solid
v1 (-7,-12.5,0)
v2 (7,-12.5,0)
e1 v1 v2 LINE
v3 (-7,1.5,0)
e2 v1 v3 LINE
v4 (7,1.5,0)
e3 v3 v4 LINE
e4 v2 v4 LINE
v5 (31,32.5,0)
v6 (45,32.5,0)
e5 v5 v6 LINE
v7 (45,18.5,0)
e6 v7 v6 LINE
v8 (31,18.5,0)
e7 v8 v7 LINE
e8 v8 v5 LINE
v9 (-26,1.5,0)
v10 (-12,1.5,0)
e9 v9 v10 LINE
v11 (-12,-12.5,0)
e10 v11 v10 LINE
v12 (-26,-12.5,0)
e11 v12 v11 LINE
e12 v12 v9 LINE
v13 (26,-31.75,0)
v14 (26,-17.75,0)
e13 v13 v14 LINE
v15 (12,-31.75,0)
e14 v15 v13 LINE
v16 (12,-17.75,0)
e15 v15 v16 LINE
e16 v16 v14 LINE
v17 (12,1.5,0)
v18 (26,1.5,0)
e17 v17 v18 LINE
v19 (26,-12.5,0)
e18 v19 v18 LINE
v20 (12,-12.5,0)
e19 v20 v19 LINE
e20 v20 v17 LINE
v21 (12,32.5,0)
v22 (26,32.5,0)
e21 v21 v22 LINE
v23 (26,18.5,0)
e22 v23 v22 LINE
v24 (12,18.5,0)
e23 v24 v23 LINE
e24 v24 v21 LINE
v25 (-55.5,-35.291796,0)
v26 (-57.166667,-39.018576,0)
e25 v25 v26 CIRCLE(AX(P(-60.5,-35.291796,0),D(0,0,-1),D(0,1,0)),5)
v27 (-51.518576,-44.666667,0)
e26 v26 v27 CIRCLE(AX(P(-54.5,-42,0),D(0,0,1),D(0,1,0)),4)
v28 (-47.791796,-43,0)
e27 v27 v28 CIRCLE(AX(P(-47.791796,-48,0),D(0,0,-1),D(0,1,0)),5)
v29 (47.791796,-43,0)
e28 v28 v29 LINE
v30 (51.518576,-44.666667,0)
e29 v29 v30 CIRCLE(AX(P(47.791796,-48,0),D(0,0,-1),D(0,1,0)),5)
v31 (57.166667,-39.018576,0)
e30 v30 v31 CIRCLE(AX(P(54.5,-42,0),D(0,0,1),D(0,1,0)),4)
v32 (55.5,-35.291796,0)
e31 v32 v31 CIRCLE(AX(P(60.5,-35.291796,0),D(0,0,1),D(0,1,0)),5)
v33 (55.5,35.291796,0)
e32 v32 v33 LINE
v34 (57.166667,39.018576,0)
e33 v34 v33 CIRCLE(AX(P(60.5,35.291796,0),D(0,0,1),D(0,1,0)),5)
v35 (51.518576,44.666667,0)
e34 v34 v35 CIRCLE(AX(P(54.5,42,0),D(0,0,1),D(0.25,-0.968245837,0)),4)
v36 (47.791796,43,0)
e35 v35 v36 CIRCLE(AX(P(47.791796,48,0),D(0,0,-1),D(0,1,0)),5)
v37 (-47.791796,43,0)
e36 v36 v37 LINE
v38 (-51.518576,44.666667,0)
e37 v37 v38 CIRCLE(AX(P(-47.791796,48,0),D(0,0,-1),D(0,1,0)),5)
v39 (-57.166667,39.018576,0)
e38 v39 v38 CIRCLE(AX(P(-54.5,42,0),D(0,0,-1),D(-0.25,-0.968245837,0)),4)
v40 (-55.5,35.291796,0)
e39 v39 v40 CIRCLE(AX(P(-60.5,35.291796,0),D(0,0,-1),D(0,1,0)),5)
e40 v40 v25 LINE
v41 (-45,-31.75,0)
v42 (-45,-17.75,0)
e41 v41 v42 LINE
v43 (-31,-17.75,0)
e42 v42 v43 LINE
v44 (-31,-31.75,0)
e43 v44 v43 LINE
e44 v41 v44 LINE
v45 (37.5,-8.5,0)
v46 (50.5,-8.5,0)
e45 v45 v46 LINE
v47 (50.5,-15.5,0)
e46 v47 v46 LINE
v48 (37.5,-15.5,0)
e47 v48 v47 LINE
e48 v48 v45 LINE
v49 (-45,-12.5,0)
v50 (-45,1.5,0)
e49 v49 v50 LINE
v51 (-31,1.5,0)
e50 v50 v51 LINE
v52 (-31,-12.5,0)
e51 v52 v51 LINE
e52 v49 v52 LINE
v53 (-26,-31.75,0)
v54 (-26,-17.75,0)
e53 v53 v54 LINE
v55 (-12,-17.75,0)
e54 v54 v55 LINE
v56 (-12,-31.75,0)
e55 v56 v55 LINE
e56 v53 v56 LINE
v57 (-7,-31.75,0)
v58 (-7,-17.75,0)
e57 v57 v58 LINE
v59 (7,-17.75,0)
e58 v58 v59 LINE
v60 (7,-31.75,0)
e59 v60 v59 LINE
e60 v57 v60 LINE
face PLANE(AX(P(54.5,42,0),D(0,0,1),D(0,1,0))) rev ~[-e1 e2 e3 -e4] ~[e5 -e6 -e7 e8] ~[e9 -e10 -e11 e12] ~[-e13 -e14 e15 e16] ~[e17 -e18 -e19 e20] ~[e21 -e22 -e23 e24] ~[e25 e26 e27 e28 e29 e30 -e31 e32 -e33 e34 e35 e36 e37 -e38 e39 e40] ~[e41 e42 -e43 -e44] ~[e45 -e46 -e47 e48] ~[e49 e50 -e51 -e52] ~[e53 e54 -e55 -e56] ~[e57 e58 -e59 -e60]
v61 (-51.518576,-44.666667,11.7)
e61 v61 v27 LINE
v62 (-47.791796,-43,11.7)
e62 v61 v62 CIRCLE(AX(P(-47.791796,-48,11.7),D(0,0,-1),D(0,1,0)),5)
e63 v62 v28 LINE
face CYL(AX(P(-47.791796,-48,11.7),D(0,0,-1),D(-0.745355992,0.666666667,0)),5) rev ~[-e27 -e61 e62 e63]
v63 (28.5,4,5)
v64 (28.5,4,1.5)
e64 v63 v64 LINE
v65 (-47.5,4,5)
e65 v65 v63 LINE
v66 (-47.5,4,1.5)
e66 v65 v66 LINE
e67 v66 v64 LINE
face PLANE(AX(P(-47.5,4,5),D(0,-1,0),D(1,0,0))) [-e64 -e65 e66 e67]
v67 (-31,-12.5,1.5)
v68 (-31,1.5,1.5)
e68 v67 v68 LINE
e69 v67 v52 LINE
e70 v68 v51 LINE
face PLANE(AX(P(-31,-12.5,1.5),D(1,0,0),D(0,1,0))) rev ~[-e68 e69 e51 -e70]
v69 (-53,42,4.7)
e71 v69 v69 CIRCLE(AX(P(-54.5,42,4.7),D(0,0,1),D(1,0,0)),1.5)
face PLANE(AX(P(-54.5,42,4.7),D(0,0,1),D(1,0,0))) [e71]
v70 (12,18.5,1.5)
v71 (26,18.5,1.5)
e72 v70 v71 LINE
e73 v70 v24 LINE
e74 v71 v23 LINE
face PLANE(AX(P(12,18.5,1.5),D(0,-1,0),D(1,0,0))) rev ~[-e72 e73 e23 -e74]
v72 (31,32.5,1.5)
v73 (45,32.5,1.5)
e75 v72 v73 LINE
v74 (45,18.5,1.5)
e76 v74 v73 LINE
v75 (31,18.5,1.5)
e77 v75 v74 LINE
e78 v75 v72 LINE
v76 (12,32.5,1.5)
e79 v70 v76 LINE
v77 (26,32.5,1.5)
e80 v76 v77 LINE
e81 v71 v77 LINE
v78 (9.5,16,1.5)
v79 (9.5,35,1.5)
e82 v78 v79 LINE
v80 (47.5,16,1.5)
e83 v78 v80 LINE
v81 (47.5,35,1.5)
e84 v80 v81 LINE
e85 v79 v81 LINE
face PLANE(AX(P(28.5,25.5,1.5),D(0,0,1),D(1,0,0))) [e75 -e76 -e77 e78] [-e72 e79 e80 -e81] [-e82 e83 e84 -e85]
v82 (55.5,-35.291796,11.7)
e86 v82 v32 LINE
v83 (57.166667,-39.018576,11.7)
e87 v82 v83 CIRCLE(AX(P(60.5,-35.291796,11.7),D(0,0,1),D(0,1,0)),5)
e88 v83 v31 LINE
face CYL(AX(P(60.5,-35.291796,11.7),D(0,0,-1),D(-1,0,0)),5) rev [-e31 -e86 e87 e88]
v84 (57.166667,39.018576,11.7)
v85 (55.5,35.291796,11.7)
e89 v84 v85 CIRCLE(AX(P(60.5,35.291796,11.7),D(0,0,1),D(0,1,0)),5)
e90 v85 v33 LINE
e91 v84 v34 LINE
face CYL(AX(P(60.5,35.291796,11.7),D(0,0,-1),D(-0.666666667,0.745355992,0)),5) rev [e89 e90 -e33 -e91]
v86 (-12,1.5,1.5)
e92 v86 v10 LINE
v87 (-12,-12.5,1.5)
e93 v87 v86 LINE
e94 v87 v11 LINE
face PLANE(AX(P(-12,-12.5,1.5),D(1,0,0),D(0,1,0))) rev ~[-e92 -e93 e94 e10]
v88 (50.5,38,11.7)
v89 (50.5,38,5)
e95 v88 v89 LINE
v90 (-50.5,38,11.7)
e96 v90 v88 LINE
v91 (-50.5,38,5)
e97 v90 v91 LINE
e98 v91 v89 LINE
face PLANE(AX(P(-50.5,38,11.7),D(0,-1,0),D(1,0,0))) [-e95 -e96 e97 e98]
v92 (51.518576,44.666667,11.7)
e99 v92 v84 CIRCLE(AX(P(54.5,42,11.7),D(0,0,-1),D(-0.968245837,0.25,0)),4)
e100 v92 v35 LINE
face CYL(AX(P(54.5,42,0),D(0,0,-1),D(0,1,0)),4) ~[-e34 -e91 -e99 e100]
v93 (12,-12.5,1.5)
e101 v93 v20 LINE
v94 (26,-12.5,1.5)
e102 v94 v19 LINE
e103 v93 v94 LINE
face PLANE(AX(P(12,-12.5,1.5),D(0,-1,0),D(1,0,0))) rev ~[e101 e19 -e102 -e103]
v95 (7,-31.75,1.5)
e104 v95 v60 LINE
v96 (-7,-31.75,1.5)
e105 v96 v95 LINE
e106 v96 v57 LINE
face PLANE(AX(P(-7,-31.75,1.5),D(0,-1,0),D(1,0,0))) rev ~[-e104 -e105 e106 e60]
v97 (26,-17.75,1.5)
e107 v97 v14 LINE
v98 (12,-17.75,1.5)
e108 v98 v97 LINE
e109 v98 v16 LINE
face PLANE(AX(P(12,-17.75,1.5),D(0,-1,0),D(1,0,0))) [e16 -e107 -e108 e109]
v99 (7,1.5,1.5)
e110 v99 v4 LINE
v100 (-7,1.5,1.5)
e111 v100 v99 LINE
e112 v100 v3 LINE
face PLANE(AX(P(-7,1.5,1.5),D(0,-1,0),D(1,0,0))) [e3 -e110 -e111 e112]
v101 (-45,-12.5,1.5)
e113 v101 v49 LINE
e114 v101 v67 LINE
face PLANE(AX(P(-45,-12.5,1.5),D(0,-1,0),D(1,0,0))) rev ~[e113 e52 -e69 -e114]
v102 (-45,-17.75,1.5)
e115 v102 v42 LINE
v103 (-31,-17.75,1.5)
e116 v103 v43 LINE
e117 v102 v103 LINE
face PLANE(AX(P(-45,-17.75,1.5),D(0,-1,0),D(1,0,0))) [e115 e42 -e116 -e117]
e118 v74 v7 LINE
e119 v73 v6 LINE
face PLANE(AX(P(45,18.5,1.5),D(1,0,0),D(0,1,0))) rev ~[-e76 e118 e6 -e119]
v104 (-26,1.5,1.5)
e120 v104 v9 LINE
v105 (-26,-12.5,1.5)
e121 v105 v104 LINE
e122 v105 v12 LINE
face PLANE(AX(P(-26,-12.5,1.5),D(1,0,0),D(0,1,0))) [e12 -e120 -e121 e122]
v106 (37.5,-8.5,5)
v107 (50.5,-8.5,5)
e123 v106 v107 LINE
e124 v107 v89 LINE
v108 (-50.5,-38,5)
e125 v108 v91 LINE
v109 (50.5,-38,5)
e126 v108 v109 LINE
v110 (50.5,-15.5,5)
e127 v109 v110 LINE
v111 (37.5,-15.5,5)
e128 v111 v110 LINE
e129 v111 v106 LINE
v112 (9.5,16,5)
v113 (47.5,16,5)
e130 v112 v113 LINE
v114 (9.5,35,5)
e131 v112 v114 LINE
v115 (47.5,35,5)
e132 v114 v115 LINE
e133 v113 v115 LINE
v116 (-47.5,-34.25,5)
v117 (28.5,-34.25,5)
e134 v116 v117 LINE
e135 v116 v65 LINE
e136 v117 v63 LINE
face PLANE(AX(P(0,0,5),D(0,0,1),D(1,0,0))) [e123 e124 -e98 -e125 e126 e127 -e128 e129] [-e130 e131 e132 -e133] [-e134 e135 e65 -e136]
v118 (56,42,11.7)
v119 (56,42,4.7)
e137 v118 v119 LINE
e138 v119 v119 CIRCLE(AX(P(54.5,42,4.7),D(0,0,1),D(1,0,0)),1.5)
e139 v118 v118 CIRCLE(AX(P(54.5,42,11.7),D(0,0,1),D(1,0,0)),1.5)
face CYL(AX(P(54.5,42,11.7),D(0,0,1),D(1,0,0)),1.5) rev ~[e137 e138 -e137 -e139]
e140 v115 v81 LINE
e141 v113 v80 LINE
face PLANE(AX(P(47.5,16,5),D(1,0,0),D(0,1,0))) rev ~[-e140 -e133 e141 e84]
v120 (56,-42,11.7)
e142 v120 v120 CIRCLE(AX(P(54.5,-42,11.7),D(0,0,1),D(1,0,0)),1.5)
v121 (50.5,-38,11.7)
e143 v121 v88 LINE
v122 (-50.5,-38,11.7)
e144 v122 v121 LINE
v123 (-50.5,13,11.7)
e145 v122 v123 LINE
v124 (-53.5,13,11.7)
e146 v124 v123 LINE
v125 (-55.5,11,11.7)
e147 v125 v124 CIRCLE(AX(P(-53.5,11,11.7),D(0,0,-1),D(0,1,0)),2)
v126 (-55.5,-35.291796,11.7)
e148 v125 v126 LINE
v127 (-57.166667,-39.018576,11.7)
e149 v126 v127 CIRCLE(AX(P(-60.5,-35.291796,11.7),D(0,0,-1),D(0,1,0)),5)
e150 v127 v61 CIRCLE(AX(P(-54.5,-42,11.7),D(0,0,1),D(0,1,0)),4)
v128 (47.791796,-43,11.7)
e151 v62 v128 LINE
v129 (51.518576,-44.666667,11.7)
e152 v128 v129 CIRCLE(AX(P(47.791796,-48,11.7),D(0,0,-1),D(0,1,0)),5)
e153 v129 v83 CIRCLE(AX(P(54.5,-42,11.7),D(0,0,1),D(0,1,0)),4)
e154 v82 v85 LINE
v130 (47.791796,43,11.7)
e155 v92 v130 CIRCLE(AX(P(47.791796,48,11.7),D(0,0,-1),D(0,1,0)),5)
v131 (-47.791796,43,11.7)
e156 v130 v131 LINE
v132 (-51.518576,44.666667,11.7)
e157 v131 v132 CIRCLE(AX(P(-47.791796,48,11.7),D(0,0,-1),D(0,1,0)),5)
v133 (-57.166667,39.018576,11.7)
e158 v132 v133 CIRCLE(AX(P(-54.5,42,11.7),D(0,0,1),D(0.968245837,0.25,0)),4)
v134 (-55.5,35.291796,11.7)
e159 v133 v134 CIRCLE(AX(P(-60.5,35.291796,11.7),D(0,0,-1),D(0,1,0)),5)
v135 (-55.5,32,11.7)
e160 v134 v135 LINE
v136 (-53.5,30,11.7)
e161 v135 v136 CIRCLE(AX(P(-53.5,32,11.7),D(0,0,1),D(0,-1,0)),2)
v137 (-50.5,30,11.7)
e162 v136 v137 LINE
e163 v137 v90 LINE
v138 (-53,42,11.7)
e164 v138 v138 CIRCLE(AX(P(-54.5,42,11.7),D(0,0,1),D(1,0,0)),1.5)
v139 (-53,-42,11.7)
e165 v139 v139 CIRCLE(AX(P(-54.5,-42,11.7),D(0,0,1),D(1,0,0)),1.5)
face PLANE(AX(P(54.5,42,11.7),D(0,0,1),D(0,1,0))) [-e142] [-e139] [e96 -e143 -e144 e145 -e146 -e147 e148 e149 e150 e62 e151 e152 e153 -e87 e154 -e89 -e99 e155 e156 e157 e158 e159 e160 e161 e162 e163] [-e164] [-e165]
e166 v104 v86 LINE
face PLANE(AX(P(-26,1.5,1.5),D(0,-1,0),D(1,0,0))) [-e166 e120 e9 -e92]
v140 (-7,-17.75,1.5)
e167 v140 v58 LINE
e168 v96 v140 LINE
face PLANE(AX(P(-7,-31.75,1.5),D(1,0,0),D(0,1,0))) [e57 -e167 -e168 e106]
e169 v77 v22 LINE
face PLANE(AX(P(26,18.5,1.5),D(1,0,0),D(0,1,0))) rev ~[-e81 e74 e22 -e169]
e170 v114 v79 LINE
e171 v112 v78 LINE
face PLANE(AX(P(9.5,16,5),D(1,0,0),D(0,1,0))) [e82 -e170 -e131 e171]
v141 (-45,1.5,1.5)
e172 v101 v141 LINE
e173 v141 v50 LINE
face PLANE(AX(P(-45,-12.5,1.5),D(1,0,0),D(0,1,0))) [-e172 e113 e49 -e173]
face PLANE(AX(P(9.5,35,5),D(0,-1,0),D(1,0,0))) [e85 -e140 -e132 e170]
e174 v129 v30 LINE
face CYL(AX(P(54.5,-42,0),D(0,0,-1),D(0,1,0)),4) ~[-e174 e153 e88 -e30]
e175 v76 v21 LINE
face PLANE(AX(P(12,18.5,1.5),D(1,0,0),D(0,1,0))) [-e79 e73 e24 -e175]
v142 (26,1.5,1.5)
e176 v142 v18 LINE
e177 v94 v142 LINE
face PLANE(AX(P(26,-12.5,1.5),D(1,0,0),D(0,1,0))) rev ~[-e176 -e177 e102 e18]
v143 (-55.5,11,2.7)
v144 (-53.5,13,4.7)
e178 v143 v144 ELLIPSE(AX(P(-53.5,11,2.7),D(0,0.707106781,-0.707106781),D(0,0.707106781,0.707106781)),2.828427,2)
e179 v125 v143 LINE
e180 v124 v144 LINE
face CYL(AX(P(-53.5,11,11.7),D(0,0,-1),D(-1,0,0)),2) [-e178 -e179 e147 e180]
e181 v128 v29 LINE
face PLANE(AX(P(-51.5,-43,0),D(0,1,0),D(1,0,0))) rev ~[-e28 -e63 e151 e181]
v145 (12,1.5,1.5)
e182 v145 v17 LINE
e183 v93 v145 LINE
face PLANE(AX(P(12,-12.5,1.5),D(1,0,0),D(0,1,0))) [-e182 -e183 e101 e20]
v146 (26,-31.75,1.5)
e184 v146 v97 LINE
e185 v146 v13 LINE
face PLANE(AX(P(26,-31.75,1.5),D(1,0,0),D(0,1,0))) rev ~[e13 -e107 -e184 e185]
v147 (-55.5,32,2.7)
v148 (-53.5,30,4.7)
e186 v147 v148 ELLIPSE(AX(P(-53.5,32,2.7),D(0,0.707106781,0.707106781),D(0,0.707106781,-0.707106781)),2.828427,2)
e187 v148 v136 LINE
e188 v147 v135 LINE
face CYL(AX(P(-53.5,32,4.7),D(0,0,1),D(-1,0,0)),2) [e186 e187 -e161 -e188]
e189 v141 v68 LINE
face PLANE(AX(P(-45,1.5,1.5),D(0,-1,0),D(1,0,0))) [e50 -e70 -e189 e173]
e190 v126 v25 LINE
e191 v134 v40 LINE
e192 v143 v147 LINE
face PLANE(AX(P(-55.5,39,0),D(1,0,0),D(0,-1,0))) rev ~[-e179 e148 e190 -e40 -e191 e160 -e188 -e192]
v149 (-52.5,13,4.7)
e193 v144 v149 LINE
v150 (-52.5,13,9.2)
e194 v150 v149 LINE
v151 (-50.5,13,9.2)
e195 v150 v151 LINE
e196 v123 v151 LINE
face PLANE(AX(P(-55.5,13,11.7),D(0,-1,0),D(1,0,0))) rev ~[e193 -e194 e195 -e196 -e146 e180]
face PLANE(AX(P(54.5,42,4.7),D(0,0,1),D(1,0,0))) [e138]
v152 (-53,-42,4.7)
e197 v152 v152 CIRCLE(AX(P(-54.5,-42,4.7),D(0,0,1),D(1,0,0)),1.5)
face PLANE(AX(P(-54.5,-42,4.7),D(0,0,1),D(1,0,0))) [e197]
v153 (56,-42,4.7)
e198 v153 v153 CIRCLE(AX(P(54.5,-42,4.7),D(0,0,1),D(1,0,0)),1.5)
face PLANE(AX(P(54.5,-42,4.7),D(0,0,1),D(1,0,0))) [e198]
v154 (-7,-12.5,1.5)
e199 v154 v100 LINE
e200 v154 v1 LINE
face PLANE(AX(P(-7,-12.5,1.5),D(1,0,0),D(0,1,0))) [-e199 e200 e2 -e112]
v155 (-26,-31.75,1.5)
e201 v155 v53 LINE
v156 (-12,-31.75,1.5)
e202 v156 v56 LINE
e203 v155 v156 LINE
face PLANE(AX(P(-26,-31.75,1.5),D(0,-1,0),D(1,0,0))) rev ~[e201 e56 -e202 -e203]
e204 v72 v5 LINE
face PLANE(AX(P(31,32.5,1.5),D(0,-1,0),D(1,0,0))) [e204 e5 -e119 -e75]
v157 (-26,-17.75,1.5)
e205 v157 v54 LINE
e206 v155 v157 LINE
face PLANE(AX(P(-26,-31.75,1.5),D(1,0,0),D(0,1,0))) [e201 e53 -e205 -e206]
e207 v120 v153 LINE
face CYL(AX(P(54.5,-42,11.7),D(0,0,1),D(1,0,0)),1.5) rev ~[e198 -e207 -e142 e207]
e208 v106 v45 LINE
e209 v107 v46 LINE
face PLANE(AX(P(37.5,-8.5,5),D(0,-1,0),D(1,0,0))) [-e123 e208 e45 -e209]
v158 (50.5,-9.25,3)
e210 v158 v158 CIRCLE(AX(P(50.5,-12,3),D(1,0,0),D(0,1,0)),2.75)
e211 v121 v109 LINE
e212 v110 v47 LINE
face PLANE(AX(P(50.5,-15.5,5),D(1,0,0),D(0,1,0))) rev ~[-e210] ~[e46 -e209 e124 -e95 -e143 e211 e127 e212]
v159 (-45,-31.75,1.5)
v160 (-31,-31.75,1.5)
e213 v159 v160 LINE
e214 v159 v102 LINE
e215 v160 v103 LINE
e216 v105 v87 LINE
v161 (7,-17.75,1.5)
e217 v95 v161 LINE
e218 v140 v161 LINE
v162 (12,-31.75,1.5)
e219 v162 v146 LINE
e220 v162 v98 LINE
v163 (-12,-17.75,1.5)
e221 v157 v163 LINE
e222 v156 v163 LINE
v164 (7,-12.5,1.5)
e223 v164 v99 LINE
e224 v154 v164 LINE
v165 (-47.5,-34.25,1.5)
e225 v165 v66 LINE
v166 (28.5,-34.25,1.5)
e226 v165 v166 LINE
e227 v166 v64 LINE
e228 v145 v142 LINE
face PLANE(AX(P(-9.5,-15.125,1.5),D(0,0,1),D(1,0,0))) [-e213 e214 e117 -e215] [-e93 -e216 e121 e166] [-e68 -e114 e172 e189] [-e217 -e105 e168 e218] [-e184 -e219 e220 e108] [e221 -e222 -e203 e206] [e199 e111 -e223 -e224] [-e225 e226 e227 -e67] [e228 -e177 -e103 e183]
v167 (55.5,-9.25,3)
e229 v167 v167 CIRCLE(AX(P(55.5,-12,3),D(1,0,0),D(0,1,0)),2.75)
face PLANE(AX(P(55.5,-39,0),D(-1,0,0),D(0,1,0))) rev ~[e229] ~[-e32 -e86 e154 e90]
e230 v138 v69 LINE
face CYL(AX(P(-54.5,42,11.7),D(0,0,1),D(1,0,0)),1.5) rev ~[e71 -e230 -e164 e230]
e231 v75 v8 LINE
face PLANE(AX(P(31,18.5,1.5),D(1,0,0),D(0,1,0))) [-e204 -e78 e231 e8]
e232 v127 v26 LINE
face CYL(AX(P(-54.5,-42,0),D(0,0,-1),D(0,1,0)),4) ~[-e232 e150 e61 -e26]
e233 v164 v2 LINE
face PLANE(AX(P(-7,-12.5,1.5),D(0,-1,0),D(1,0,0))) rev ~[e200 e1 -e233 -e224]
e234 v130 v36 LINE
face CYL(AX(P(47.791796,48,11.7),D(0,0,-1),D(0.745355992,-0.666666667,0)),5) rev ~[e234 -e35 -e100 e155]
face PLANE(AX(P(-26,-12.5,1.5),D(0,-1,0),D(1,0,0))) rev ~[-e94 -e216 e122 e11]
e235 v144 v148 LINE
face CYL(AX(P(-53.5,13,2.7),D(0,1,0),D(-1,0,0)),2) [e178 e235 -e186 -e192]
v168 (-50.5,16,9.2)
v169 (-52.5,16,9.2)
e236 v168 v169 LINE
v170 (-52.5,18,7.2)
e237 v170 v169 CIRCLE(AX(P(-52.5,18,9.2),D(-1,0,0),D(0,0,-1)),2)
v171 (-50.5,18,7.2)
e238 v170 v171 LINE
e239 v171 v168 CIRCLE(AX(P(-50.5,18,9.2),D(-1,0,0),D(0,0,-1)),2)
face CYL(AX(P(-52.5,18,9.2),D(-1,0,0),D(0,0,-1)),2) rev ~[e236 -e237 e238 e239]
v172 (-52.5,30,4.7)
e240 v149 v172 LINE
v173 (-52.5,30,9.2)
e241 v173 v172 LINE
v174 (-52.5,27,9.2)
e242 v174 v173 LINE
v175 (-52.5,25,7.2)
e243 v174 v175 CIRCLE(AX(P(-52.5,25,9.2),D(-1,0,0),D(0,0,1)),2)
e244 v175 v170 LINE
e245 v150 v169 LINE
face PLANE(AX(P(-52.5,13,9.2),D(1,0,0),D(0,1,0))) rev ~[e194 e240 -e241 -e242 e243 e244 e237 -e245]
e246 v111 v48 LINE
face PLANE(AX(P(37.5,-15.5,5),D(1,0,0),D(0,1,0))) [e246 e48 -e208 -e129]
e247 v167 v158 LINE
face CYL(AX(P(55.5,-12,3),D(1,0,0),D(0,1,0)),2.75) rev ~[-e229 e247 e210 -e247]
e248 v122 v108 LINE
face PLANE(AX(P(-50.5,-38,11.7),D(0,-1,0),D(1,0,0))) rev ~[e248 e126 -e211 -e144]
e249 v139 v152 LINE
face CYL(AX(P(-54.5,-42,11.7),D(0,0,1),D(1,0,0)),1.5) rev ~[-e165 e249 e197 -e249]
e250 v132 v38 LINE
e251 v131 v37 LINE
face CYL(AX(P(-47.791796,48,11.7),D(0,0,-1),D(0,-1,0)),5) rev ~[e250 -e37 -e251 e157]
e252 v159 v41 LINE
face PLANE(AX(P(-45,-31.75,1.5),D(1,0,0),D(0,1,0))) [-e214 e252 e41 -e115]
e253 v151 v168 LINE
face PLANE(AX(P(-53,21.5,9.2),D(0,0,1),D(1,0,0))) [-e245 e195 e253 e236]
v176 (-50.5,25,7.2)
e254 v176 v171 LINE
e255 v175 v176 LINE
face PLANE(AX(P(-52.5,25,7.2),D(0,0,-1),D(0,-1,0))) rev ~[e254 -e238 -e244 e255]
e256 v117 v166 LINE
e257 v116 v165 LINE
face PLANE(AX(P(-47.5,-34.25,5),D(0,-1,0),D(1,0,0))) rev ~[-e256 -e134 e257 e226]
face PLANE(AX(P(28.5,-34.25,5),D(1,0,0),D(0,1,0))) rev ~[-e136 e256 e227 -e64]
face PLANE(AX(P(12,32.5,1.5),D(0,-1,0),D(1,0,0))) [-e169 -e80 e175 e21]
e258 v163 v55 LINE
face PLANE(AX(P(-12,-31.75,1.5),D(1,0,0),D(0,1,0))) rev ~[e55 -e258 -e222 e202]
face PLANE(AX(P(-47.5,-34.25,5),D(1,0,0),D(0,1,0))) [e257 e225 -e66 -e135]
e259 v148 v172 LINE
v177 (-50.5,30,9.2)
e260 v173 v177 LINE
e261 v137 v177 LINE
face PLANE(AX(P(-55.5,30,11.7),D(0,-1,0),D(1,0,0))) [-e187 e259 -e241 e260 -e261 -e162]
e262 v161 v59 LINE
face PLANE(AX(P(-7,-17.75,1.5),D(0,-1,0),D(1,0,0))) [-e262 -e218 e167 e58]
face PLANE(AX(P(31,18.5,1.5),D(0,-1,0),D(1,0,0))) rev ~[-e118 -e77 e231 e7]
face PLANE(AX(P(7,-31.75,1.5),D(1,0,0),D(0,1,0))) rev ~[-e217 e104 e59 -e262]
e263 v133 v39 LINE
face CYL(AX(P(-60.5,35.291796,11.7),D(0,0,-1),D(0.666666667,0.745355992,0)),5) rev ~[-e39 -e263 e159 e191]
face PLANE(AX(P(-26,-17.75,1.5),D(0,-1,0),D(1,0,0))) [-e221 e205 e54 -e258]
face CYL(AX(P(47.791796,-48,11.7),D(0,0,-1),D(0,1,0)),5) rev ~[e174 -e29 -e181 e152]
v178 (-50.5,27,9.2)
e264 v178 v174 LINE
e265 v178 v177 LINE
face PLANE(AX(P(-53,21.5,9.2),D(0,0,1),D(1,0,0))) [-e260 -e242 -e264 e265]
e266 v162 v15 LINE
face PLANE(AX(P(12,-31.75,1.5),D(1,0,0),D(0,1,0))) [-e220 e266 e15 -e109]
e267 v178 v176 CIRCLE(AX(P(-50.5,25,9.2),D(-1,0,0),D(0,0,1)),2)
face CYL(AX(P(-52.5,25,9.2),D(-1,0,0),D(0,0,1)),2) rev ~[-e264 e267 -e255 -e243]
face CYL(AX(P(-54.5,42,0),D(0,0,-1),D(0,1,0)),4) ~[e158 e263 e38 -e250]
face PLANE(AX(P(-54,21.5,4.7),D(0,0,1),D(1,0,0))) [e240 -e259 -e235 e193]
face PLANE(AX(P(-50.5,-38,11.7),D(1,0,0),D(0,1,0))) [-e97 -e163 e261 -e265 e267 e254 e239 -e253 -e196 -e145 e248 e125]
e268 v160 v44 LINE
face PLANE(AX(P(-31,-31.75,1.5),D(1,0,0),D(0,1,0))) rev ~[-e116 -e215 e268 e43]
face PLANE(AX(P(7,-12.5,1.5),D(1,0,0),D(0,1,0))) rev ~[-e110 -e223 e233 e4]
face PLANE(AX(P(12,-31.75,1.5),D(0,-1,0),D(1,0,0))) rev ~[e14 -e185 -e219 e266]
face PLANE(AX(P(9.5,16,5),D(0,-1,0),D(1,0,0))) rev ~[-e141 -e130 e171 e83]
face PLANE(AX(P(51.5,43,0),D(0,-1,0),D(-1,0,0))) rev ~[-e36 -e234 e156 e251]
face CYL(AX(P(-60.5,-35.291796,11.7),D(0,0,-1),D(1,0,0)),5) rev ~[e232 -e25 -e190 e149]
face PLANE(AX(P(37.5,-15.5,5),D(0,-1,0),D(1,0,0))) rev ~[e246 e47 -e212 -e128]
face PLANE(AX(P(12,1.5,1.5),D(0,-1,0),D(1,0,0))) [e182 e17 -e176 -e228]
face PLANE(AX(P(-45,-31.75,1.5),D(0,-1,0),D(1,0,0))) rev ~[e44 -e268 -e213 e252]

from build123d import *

# Parameters (mm, degrees)
PAD004_DEPTH     = 11.7
SHAPEBINDER001_R = 4
PAD005_DEPTH     = 11.7
SKETCH008_R      = 1.5
POCKET004_DEPTH  = 7
FILLET002_R      = 5
SKETCH009_W      = 101
SKETCH009_H      = 76
POCKET005_DEPTH  = 6.7
SKETCH011_W      = 76
SKETCH011_H      = 38.25
SKETCH011_W_2    = 38
SKETCH011_H_2    = 19
POCKET006_DEPTH  = 3.5
SKETCH012_W      = 14
SKETCH012_H      = 14
POCKET007_DEPTH  = 1.5
SKETCH015_W      = 13
SKETCH015_H      = 7
POCKET010_DEPTH  = 5
SKETCH016_R      = 2.75
POCKET011_DEPTH  = 5
SKETCH017_W      = 5
SKETCH017_H      = 17
POCKET012_DEPTH  = 2.5
SKETCH018_W      = 3
SKETCH018_H      = 17
POCKET013_DEPTH  = 4.5
POCKET014_DEPTH  = 2
FILLET003_R      = 2


with BuildPart() as part:
    # ShapeBinder → Pad004 (new body)
    with BuildSketch(Plane(origin=(0, 0, 0), x_dir=(0, 1, 0), z_dir=(0, 0, 1))):
        with BuildLine():
            Line((43, -51.5), (43, 51.5))
            ThreePointArc((43, 51.5), (41.828427, 54.328427), (39, 55.5))
            Line((39, 55.5), (-39, 55.5))
            ThreePointArc((-39, 55.5), (-41.828427, 54.328427), (-43, 51.5))
            Line((-43, 51.5), (-43, -51.5))
            ThreePointArc((-43, -51.5), (-41.828427, -54.328427), (-39, -55.5))
            Line((-39, -55.5), (39, -55.5))
            ThreePointArc((39, -55.5), (41.828427, -54.328427), (43, -51.5))
        make_face()
    extrude(amount=PAD004_DEPTH)

    # ShapeBinder001 → Pad005 (join)
    with BuildSketch(Plane(origin=(0, 0, 0), x_dir=(0, 1, 0), z_dir=(0, 0, 1))):
        with Locations((42, -54.5)):
            Circle(SHAPEBINDER001_R)
        with Locations((42, 54.5)):
            Circle(SHAPEBINDER001_R)
        with Locations((-42, -54.5)):
            Circle(SHAPEBINDER001_R)
        with Locations((-42, 54.5)):
            Circle(SHAPEBINDER001_R)
    extrude(amount=PAD005_DEPTH)

    # Sketch008 (on Face8 of Pad005) → Pocket004 (cut)
    with BuildSketch(Plane.XY.offset(11.7)):
        with Locations((54.5, 42)):
            Circle(SKETCH008_R)
        with Locations((-54.5, 42)):
            Circle(SKETCH008_R)
        with Locations((-54.5, -42)):
            Circle(SKETCH008_R)
        with Locations((54.5, -42)):
            Circle(SKETCH008_R)
    extrude(amount=-POCKET004_DEPTH, mode=Mode.SUBTRACT)

    # Fillet002
    fillet002_edges = [part.edges().sort_by_distance(p)[0] for p in [
        (-55.5, -38.127017, 5.85),
        (-55.5, 38.127017, 5.85),
        (50.627017, 43, 5.85),
        (-50.627017, 43, 5.85),
        (55.5, -38.127017, 5.85),
        (55.5, 38.127017, 5.85),
        (-50.627017, -43, 5.85),
        (50.627017, -43, 5.85),
    ]]
    fillet(fillet002_edges, radius=FILLET002_R)

    # Sketch009 (on Face5 of Fillet002) → Pocket005 (cut)
    with BuildSketch(Plane.XY.offset(11.7)):
        Rectangle(SKETCH009_W, SKETCH009_H)
    extrude(amount=-POCKET005_DEPTH, mode=Mode.SUBTRACT)

    # Sketch011 (on Face30 of Pocket005) → Pocket006 (cut)
    with BuildSketch(Plane.XY.offset(5)):
        with Locations((-9.5, -15.125)):
            Rectangle(SKETCH011_W, SKETCH011_H)
        with Locations((28.5, 25.5)):
            Rectangle(SKETCH011_W_2, SKETCH011_H_2)
    extrude(amount=-POCKET006_DEPTH, mode=Mode.SUBTRACT)

    # Sketch012 (on Face40 of Pocket006) → Pocket007 (cut)
    with BuildSketch(Plane.XY.offset(1.5)):
        with Locations((-38, -5.5)):
            Rectangle(SKETCH012_W, SKETCH012_H)
        with Locations((-19, -5.5)):
            Rectangle(SKETCH012_W, SKETCH012_H)
        with Locations((0, -5.5)):
            Rectangle(SKETCH012_W, SKETCH012_H)
        with Locations((19, -5.5)):
            Rectangle(SKETCH012_W, SKETCH012_H)
        with Locations((-38, -24.75)):
            Rectangle(SKETCH012_W, SKETCH012_H)
        with Locations((-19, -24.75)):
            Rectangle(SKETCH012_W, SKETCH012_H)
        with Locations((0, -24.75)):
            Rectangle(SKETCH012_W, SKETCH012_H)
        with Locations((19, -24.75)):
            Rectangle(SKETCH012_W, SKETCH012_H)
        with Locations((19, 25.5)):
            Rectangle(SKETCH012_W, SKETCH012_H)
        with Locations((38, 25.5)):
            Rectangle(SKETCH012_W, SKETCH012_H)
    extrude(amount=-POCKET007_DEPTH, mode=Mode.SUBTRACT)

    # Sketch015 → Pocket010 (cut)
    with BuildSketch(Plane.XY.offset(5)):
        with Locations((44, -12)):
            Rectangle(SKETCH015_W, SKETCH015_H)
    extrude(amount=-POCKET010_DEPTH, mode=Mode.SUBTRACT)

    # Sketch016 (on Face1 of Pocket010) → Pocket011 (cut)
    with BuildSketch(Plane.YZ.offset(55.5)):
        with Locations((-12, 3)):
            Circle(SKETCH016_R)
    extrude(amount=-POCKET011_DEPTH, mode=Mode.SUBTRACT)

    # Sketch017 (on Face5 of Pocket007) → Pocket012 (cut)
    with BuildSketch(Plane.XY.offset(11.7)):
        with Locations((-53, 21.5)):
            Rectangle(SKETCH017_W, SKETCH017_H)
    extrude(amount=-POCKET012_DEPTH, mode=Mode.SUBTRACT)

    # Sketch018 (on Face73 of Pocket012) → Pocket013 (cut)
    with BuildSketch(Plane.XY.offset(9.2)):
        with Locations((-54, 21.5)):
            Rectangle(SKETCH018_W, SKETCH018_H)
    extrude(amount=-POCKET013_DEPTH, mode=Mode.SUBTRACT)

    # Sketch019 (on Face80 of Pocket013) → Pocket014 (cut)
    with BuildSketch(Plane(origin=(-52.5, 0, 0), x_dir=(0, -1, 0), z_dir=(-1, 0, 0))):
        with BuildLine():
            ThreePointArc((-25, 11.2), (-27, 9.2), (-25, 7.2))
            Line((-25, 7.2), (-18, 7.2))
            ThreePointArc((-18, 7.2), (-16, 9.2), (-18, 11.2))
            Line((-25, 11.2), (-18, 11.2))
        make_face()
    extrude(amount=-POCKET014_DEPTH, mode=Mode.SUBTRACT)

    # Fillet003
    fillet003_edges = [part.edges().sort_by_distance(p)[0] for p in [
        (-55.5, 21.5, 4.7),
        (-55.5, 30, 8.2),
        (-55.5, 13, 8.2),
    ]]
    fillet(fillet003_edges, radius=FILLET003_R)


solid = part.part
